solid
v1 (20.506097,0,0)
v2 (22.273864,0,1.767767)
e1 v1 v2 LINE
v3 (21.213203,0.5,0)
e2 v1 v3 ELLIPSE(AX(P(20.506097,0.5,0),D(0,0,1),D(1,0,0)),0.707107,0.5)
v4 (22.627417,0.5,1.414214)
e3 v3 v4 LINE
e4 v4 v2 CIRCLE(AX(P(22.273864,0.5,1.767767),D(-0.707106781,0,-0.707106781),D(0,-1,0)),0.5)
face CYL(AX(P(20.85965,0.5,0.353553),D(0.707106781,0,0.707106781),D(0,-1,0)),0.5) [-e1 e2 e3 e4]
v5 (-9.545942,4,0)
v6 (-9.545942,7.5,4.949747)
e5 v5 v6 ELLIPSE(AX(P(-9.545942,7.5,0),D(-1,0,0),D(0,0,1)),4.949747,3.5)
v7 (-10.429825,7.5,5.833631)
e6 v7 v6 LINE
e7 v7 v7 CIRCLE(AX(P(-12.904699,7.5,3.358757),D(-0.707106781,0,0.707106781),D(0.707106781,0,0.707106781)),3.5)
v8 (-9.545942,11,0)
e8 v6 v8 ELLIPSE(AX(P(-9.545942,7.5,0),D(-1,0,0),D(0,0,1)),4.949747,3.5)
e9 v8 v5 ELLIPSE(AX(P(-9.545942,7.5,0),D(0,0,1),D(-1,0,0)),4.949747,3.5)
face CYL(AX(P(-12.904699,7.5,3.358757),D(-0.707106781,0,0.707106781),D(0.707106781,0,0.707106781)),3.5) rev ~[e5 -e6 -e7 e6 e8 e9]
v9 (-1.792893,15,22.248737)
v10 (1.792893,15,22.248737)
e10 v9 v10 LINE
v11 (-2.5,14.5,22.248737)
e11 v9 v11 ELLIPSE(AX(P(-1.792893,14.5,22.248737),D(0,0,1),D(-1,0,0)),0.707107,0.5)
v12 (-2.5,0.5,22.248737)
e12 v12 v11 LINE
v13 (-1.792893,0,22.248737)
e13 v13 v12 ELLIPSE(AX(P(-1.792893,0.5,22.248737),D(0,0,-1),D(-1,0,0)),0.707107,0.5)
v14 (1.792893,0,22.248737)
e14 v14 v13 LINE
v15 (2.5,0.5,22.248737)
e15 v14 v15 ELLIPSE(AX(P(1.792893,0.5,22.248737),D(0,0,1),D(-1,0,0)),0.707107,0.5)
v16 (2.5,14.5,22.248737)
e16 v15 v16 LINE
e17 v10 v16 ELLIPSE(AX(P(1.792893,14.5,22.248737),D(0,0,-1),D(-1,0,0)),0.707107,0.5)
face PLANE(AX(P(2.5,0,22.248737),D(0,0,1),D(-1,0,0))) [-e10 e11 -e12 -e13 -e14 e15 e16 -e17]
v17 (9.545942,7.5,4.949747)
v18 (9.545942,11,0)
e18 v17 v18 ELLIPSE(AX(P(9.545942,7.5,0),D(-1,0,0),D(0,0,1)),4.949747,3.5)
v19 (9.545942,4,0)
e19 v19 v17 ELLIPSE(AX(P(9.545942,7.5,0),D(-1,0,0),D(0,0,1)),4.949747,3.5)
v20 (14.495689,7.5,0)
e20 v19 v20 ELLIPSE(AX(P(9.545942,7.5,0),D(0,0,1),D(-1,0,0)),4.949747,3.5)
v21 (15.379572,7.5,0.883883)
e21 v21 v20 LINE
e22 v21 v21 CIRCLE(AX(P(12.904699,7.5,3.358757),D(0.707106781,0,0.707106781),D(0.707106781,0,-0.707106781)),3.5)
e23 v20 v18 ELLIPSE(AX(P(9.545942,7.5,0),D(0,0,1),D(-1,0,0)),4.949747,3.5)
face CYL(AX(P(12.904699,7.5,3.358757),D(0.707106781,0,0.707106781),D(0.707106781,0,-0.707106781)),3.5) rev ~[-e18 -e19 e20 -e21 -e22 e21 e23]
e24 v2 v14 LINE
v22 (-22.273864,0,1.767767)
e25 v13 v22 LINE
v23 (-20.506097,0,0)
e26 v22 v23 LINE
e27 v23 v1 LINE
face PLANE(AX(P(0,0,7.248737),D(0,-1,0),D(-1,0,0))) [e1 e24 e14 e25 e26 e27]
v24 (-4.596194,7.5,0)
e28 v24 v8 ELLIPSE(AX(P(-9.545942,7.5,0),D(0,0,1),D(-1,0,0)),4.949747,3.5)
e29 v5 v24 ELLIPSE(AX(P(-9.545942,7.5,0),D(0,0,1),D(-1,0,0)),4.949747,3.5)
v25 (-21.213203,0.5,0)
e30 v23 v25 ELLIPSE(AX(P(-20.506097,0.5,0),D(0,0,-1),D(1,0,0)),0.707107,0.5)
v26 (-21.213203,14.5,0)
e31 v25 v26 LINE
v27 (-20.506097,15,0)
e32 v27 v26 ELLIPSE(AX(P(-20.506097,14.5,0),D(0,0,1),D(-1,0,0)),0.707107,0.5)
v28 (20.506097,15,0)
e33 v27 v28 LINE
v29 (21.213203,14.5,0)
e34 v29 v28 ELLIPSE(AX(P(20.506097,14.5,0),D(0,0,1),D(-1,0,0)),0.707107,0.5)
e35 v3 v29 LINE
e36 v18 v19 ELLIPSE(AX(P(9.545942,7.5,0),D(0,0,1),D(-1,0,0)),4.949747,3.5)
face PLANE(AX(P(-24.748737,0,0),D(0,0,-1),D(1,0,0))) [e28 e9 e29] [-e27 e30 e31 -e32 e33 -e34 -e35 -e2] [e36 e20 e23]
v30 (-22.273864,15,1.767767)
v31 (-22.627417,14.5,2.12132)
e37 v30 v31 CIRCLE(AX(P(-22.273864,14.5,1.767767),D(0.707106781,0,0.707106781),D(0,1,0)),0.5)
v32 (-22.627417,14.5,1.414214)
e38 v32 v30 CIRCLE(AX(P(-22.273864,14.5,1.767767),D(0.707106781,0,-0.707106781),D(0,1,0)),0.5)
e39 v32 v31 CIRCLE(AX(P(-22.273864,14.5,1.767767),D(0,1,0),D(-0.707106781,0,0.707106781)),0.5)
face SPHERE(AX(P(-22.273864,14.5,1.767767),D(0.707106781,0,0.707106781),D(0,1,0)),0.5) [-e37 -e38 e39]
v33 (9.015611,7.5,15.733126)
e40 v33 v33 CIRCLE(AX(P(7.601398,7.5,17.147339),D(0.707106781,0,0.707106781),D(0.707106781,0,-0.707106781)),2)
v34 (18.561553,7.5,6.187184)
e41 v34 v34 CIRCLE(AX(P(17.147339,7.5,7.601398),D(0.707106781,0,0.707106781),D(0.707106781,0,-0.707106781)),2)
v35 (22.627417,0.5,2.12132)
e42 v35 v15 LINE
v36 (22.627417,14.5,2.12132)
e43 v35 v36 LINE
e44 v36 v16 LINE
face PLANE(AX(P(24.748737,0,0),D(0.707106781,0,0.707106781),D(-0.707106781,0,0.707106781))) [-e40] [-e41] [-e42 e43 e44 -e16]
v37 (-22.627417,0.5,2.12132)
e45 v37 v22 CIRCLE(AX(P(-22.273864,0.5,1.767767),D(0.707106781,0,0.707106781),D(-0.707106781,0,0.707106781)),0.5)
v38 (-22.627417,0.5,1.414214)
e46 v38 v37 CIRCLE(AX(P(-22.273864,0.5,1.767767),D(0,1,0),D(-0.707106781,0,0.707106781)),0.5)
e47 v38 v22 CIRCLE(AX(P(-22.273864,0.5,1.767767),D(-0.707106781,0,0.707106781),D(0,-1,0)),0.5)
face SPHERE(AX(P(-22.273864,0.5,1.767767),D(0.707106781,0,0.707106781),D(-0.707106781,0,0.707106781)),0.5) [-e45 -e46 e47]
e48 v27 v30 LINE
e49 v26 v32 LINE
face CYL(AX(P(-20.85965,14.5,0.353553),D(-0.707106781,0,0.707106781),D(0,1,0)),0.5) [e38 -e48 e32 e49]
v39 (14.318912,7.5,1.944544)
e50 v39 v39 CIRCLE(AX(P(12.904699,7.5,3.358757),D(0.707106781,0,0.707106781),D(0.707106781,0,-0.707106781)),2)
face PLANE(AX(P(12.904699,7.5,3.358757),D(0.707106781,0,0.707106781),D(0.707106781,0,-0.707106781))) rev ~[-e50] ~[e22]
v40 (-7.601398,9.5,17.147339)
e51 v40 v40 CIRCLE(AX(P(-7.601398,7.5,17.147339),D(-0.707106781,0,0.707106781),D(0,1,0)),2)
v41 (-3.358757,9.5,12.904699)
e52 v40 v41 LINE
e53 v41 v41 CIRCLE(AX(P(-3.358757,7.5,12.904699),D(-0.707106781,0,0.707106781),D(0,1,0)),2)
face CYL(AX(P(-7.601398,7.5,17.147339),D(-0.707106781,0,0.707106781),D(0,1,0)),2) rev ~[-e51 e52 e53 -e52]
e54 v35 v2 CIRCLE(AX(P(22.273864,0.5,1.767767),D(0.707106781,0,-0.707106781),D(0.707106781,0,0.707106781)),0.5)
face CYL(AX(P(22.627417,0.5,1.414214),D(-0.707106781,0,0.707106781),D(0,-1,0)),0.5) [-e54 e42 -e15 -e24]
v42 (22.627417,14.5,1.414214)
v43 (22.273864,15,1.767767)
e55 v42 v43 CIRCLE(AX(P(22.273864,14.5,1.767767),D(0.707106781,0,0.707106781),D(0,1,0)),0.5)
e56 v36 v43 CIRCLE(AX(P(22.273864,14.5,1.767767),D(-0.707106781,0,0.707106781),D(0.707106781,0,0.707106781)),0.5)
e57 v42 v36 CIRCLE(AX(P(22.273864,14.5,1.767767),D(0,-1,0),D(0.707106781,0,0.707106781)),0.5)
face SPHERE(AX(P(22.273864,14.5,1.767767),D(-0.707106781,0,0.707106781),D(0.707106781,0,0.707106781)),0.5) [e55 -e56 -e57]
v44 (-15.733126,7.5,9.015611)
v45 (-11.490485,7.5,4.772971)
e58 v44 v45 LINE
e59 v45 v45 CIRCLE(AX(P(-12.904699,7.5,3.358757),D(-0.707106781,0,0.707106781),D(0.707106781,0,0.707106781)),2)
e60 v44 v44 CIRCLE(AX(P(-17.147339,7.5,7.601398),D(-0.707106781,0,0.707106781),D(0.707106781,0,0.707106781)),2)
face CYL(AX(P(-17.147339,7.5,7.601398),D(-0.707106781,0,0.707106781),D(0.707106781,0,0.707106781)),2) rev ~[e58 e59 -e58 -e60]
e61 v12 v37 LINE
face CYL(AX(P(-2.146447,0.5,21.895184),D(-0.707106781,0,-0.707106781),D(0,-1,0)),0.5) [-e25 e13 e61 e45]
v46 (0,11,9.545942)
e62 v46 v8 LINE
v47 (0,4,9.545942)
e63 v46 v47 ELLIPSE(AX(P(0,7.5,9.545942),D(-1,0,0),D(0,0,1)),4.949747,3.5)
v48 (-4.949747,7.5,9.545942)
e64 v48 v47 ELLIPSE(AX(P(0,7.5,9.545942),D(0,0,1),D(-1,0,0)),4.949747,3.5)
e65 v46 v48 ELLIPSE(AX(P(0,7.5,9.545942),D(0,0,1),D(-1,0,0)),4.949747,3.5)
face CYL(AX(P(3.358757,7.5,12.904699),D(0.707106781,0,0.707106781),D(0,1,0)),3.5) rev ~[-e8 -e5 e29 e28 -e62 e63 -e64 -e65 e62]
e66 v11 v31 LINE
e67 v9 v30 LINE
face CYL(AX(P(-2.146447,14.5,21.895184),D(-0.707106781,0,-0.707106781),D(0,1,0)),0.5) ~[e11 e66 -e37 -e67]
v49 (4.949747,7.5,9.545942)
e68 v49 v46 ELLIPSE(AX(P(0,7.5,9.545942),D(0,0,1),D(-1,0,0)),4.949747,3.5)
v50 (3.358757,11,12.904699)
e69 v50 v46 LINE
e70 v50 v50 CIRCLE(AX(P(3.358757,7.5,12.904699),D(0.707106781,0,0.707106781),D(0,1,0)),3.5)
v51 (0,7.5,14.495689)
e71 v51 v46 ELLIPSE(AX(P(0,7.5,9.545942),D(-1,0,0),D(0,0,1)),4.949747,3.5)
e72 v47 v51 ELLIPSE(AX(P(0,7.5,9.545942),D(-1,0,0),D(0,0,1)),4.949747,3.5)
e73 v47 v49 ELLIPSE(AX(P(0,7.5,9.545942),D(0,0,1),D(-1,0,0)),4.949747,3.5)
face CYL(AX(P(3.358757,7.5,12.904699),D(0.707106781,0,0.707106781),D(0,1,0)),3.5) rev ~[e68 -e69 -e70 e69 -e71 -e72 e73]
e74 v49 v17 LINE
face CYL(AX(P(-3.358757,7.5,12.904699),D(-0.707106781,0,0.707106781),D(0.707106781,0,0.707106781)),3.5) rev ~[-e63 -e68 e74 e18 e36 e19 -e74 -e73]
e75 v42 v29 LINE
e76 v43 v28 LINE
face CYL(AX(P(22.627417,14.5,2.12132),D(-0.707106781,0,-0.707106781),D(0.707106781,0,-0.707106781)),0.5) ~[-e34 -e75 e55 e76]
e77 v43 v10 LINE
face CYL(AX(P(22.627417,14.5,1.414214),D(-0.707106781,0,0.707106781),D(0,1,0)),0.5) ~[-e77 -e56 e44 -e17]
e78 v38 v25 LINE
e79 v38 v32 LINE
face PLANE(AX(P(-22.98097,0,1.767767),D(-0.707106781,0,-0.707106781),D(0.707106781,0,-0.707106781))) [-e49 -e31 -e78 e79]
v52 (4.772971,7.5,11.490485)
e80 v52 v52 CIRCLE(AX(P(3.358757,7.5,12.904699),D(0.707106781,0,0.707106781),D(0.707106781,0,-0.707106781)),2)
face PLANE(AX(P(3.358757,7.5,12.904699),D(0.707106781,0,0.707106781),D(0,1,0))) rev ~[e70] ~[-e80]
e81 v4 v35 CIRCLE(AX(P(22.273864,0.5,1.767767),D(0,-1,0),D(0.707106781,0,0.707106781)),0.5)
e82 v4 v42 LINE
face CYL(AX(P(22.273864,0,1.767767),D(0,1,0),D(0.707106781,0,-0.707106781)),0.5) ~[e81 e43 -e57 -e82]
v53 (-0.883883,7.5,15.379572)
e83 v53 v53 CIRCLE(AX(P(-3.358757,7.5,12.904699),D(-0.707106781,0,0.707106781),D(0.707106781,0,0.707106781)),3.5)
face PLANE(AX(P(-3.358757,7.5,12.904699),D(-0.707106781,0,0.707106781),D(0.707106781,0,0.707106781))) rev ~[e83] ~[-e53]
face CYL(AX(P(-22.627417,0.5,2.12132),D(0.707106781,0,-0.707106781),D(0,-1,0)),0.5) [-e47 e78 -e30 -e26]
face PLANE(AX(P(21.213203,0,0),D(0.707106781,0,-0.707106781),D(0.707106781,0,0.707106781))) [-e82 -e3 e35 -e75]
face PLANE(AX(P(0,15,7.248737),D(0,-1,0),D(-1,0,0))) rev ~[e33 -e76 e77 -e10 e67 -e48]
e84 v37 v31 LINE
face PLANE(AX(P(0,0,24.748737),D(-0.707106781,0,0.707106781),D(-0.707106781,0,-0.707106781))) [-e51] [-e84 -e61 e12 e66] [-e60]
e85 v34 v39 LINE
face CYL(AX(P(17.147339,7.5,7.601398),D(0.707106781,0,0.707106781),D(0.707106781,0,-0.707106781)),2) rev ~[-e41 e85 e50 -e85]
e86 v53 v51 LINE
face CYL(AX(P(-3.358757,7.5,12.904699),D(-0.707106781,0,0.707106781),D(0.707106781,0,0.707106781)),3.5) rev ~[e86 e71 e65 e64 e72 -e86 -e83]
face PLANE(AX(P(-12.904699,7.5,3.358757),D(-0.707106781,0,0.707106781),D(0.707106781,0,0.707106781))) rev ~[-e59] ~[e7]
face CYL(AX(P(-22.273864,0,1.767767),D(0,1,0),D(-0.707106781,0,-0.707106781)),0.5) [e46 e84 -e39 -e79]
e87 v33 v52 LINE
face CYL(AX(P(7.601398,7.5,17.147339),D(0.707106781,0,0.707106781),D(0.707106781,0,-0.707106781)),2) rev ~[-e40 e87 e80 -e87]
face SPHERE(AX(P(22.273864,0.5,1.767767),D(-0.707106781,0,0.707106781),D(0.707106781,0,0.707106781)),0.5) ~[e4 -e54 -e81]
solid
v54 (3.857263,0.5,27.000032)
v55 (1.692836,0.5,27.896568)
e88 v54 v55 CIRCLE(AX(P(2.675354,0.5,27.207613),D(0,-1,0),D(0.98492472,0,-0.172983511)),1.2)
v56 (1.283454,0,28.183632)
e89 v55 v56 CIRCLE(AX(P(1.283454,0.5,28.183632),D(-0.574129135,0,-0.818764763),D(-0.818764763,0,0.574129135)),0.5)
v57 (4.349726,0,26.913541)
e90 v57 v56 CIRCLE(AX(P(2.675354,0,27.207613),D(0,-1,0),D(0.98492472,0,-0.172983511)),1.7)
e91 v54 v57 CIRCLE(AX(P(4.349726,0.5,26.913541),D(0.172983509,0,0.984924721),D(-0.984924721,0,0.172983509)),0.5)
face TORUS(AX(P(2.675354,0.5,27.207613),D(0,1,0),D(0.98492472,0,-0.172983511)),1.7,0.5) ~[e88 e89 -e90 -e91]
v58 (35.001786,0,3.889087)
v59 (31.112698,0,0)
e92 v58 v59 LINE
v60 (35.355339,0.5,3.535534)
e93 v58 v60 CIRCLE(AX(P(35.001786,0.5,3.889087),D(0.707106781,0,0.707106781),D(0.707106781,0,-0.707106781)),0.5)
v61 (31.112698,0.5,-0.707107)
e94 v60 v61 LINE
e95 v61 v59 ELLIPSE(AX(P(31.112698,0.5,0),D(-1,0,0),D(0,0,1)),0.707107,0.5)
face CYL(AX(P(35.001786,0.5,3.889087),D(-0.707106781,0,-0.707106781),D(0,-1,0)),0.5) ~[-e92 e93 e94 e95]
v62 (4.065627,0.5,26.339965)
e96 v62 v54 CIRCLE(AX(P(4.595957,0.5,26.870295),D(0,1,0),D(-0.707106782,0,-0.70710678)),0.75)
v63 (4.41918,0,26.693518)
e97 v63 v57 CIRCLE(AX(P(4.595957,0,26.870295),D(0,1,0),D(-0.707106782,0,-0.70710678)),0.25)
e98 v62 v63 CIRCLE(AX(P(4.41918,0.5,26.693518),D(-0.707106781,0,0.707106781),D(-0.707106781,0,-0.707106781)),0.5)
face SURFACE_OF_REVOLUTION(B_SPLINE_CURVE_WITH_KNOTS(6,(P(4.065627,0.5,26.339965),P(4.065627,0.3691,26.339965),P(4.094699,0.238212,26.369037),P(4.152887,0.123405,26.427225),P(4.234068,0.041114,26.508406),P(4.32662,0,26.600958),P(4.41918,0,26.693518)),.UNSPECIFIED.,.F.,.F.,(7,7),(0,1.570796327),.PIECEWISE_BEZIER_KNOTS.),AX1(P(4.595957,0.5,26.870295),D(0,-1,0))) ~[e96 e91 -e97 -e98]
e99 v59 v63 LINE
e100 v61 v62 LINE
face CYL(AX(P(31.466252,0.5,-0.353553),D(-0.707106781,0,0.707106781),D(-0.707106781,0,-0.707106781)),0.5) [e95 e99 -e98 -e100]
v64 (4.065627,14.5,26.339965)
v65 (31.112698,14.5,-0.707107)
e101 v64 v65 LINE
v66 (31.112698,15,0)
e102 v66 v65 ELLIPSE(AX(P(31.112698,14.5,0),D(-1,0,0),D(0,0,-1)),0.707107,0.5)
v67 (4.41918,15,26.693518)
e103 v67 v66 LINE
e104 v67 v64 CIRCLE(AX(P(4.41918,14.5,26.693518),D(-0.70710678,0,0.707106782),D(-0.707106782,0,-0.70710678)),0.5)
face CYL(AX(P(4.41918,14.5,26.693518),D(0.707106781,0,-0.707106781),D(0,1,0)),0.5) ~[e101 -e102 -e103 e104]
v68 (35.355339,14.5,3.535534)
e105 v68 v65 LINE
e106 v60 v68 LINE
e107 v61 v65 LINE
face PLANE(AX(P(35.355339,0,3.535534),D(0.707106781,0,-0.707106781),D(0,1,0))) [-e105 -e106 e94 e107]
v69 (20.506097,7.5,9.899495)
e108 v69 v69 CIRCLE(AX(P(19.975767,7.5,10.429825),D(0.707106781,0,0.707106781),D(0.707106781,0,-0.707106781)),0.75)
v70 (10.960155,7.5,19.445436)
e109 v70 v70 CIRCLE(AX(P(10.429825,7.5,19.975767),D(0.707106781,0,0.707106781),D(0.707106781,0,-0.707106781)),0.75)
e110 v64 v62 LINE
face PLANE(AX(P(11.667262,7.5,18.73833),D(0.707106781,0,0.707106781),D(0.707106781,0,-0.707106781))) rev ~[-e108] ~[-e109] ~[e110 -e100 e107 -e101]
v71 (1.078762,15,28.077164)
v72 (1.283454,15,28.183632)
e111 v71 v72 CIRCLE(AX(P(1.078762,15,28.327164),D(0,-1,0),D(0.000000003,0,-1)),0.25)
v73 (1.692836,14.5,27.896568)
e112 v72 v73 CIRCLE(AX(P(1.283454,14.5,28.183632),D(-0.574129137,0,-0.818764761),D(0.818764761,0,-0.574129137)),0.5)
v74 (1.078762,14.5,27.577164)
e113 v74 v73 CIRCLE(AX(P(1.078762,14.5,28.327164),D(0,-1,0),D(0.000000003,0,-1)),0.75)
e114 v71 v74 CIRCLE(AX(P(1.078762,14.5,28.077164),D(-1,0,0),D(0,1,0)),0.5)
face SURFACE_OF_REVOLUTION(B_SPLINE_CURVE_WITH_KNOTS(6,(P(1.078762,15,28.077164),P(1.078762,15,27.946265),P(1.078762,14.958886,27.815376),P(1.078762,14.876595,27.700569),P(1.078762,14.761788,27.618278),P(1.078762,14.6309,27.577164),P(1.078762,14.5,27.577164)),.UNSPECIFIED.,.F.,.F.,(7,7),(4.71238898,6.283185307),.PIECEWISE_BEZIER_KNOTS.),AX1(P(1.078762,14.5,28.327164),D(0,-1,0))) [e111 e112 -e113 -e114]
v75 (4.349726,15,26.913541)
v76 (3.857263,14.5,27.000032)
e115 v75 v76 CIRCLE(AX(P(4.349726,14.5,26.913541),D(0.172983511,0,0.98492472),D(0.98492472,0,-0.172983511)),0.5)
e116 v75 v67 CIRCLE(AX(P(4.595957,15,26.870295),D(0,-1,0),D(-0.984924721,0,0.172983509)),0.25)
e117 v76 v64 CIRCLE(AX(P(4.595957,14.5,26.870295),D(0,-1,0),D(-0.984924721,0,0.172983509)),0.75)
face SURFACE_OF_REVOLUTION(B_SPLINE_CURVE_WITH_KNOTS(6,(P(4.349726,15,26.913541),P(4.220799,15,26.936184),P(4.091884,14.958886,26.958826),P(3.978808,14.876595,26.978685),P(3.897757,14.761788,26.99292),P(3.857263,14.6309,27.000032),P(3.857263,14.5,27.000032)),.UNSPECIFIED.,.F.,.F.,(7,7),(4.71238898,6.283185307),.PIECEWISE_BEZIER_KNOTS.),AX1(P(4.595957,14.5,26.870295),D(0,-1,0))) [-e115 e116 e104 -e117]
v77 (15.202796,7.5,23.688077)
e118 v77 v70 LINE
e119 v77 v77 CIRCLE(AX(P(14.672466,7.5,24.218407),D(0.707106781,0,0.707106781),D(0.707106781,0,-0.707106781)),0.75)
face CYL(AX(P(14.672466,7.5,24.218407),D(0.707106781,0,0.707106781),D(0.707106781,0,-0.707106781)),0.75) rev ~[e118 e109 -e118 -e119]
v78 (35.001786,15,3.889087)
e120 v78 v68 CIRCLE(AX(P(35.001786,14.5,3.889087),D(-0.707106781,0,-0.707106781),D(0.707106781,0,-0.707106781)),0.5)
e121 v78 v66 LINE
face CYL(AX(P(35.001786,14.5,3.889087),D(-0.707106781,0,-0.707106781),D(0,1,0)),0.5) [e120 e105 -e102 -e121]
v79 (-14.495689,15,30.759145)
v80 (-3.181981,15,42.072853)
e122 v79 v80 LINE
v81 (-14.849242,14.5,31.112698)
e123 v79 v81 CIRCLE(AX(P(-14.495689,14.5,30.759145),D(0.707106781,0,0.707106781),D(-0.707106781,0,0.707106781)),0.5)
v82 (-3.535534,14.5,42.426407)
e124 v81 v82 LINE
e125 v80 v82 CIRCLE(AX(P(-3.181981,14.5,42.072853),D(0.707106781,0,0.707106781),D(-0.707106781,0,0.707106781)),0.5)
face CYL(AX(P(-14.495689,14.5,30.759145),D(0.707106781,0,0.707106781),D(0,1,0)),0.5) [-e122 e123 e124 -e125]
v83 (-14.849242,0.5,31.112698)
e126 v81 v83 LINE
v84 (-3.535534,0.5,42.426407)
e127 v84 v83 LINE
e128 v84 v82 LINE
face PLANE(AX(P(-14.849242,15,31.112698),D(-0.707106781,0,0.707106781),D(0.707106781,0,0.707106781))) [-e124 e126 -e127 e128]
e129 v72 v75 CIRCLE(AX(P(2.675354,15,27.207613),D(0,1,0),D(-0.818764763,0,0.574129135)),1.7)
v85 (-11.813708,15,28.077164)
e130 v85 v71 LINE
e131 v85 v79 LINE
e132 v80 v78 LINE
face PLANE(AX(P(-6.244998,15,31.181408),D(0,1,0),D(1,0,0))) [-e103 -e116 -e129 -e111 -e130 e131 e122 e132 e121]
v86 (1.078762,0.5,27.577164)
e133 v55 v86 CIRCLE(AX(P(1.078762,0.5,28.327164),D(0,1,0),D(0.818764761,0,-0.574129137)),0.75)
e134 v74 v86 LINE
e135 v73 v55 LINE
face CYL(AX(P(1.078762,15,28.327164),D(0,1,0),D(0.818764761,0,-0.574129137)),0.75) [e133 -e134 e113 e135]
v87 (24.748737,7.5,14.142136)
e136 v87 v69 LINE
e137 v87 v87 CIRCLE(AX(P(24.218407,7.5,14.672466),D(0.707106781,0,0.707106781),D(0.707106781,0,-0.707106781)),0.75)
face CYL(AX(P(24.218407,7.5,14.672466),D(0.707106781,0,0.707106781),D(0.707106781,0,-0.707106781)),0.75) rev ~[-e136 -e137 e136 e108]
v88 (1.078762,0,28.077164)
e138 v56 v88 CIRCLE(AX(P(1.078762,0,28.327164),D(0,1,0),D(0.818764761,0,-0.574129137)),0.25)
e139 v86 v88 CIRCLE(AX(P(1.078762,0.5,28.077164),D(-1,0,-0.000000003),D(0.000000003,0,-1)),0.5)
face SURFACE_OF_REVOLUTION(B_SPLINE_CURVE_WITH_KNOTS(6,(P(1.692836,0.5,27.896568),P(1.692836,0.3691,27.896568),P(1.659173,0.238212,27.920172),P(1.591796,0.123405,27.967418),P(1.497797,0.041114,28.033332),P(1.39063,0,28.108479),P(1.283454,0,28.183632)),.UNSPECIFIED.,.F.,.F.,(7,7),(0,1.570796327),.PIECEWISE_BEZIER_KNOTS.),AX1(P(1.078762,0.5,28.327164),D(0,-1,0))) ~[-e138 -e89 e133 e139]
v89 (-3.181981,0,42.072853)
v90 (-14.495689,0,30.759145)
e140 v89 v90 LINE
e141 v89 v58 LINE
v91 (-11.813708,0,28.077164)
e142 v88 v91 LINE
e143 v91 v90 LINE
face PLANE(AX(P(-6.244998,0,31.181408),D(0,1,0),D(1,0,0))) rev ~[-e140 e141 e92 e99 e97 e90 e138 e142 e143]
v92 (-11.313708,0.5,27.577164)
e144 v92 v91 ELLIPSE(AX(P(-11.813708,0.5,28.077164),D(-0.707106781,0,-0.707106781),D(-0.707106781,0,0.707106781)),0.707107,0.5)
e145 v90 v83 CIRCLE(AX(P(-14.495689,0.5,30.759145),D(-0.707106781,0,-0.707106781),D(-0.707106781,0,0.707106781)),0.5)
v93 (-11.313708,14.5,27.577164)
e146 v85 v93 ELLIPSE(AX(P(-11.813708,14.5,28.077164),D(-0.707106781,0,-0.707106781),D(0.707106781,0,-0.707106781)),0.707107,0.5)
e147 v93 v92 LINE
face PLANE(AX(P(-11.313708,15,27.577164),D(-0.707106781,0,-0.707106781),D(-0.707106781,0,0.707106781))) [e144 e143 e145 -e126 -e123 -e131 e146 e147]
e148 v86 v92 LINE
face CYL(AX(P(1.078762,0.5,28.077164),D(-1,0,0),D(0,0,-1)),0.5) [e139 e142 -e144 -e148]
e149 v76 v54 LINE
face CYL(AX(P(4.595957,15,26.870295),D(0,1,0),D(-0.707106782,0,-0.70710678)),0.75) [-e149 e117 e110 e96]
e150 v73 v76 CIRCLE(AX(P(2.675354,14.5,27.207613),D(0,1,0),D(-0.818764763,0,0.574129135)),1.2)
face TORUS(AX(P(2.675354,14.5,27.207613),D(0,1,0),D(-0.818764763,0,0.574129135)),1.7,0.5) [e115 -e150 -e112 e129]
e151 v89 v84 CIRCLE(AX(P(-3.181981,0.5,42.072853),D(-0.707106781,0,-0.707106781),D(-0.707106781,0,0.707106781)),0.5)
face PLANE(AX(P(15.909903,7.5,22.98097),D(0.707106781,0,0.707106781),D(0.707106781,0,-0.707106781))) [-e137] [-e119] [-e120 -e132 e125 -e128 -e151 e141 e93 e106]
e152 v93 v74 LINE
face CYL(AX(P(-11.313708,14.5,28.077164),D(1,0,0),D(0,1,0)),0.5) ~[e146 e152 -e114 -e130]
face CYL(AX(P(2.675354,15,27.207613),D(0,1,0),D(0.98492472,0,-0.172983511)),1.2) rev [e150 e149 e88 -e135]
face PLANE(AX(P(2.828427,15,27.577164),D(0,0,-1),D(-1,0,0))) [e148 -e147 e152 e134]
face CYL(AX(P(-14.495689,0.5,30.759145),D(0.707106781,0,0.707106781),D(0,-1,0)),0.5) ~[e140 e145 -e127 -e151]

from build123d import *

# Parameters (mm, degrees)
BOSS_EXTRUDE1_DEPTH = 15
CUT_EXTRUDE5_REACH  = 43.908
SKETCH9_R           = 2
CUT_EXTRUDE6_REACH  = 43.908
SKETCH10_R          = 2
CUT_EXTRUDE7_REACH  = 40.079
FILLET1_R           = 0.5
CUT_EXTRUDE8_REACH  = 39.141
SKETCH11_R          = 3.5
CUT_EXTRUDE9_REACH  = 39.141
SKETCH12_R          = 3.5
SKETCH14_W          = 55
SKETCH14_H          = 15
SKETCH14_R          = 0.75
BOSS_EXTRUDE2_DEPTH = 6
BOSS_EXTRUDE3_DEPTH = 15
CUT_EXTRUDE10_DEPTH = 15
FILLET2_R           = 0.5


with BuildPart() as part:
    # Sketch1 → Boss-Extrude1 (new body)
    with BuildSketch(Plane(origin=(0, 0, 0), x_dir=(1, 0, 0), z_dir=(0, 1, 0))):
        Polygon((-24.748737342, 0), (24.748737342, 0), (0, -24.748737342), align=None)
    extrude(amount=BOSS_EXTRUDE1_DEPTH)

    # Cut-Extrude5: up to this plane
    cut_extrude5_end = Plane(origin=(-24.748737342, 15, 0), z_dir=(0, 0, 1))
    # Sketch9 → Cut-Extrude5 (cut, up to the surface)
    with BuildSketch(Plane(origin=(12.374368671, 0, 12.374368671), x_dir=(0.7071067811865474, 0, -0.7071067811865477), z_dir=(0.7071067811865477, 0, 0.7071067811865474)), mode=Mode.PRIVATE) as cut_extrude5_sk1:
        with Locations((-6.75, 7.5)):
            Circle(SKETCH9_R)
    cut_extrude5_tool1 = split(extrude(cut_extrude5_sk1.sketch, amount=-CUT_EXTRUDE5_REACH, mode=Mode.PRIVATE), bisect_by=cut_extrude5_end, keep=Keep.BOTH, mode=Mode.PRIVATE)
    add(cut_extrude5_tool1.solids().sort_by_distance((7.601398, 7.5, 17.147339))[0], mode=Mode.SUBTRACT)
    # Sketch9 → Cut-Extrude5 (cut, up to the surface)
    with BuildSketch(Plane(origin=(12.374368671, 0, 12.374368671), x_dir=(0.7071067811865474, 0, -0.7071067811865477), z_dir=(0.7071067811865477, 0, 0.7071067811865474)), mode=Mode.PRIVATE) as cut_extrude5_sk2:
        with Locations((6.75, 7.5)):
            Circle(SKETCH9_R)
    cut_extrude5_tool2 = split(extrude(cut_extrude5_sk2.sketch, amount=-CUT_EXTRUDE5_REACH, mode=Mode.PRIVATE), bisect_by=cut_extrude5_end, keep=Keep.BOTH, mode=Mode.PRIVATE)
    add(cut_extrude5_tool2.solids().sort_by_distance((17.147339, 7.5, 7.601398))[0], mode=Mode.SUBTRACT)

    # Cut-Extrude6: up to this plane
    cut_extrude6_end = Plane(origin=(-24.748737342, 15, 0), z_dir=(0, 0, 1))
    # Sketch10 → Cut-Extrude6 (cut, up to the surface)
    with BuildSketch(Plane(origin=(-12.374368671, 0, 12.374368671), x_dir=(0.7071067811865472, 0, 0.7071067811865479), z_dir=(-0.7071067811865479, 0, 0.7071067811865472)), mode=Mode.PRIVATE) as cut_extrude6_sk1:
        with Locations((-6.75, 7.5)):
            Circle(SKETCH10_R)
    cut_extrude6_tool1 = split(extrude(cut_extrude6_sk1.sketch, amount=-CUT_EXTRUDE6_REACH, mode=Mode.PRIVATE), bisect_by=cut_extrude6_end, keep=Keep.BOTH, mode=Mode.PRIVATE)
    add(cut_extrude6_tool1.solids().sort_by_distance((-17.147339, 7.5, 7.601398))[0], mode=Mode.SUBTRACT)
    # Sketch10 → Cut-Extrude6 (cut, up to the surface)
    with BuildSketch(Plane(origin=(-12.374368671, 0, 12.374368671), x_dir=(0.7071067811865472, 0, 0.7071067811865479), z_dir=(-0.7071067811865479, 0, 0.7071067811865472)), mode=Mode.PRIVATE) as cut_extrude6_sk2:
        with Locations(Location((6.75, 7.5, 0), (0, 0, 90))):
            Circle(SKETCH10_R)
    cut_extrude6_tool2 = split(extrude(cut_extrude6_sk2.sketch, amount=-CUT_EXTRUDE6_REACH, mode=Mode.PRIVATE), bisect_by=cut_extrude6_end, keep=Keep.BOTH, mode=Mode.PRIVATE)
    add(cut_extrude6_tool2.solids().sort_by_distance((-7.601398, 7.5, 17.147339))[0], mode=Mode.SUBTRACT)

    # Sketch3 → Cut-Extrude7 (cut, up to next)
    with BuildSketch(Plane.XZ, mode=Mode.PRIVATE) as cut_extrude7_sk1:
        Polygon((-2.5, 22.248737342), (0, 24.748737342), (2.5, 22.248737342), align=None)
    cut_extrude7_tool1 = extrude(cut_extrude7_sk1.sketch, amount=-CUT_EXTRUDE7_REACH, mode=Mode.PRIVATE) & part.part
    # Sketch3 → Cut-Extrude7 (cut, up to next)
    with BuildSketch(Plane.XZ, mode=Mode.PRIVATE) as cut_extrude7_sk2:
        Polygon((-24.748737342, 0), (-22.980970389, 1.767766953), (-21.213203436, 0), align=None)
    cut_extrude7_tool2 = extrude(cut_extrude7_sk2.sketch, amount=-CUT_EXTRUDE7_REACH, mode=Mode.PRIVATE) & part.part
    # Sketch3 → Cut-Extrude7 (cut, up to next)
    with BuildSketch(Plane.XZ, mode=Mode.PRIVATE) as cut_extrude7_sk3:
        Polygon((24.748737342, 0), (21.213203436, 0), (22.980970389, 1.767766953), align=None)
    cut_extrude7_tool3 = extrude(cut_extrude7_sk3.sketch, amount=-CUT_EXTRUDE7_REACH, mode=Mode.PRIVATE) & part.part
    add(cut_extrude7_tool1.solids().sort_by_distance((0, 0, 23.082071))[0], mode=Mode.SUBTRACT)
    add(cut_extrude7_tool2.solids().sort_by_distance((-22.98097, 0, 0.589256))[0], mode=Mode.SUBTRACT)
    add(cut_extrude7_tool3.solids().sort_by_distance((22.98097, 0, 0.589256))[0], mode=Mode.SUBTRACT)

    # Fillet1
    fillet1_edges = [part.edges().sort_by_distance(p)[0] for p in [
        (-12.740485194, 0, 12.008252147),
        (12.740485194, 0, 12.008252147),
        (-12.740485194, 15, 12.008252147),
        (12.740485194, 15, 12.008252147),
        (22.980970389, 7.5, 1.767766953),
        (22.097086912, 15, 0.883883476),
        (22.097086912, 0, 0.883883476),
        (-22.097086912, 15, 0.883883476),
        (-22.980970389, 7.5, 1.767766953),
        (-22.097086912, 0, 0.883883476),
    ]]
    fillet(fillet1_edges, radius=FILLET1_R)

    # Cut-Extrude8: up to this plane
    cut_extrude8_end = Plane(origin=(-24.748737342, 15, 0), z_dir=(0, 0, 1))
    # Sketch11 → Cut-Extrude8 (cut, up to the surface)
    with BuildSketch(Plane(origin=(-8.131727984, 0, 8.131727984), x_dir=(0.7071067811865475, 0, 0.7071067811865477), z_dir=(-0.7071067811865477, 0, 0.7071067811865475)), mode=Mode.PRIVATE) as cut_extrude8_sk1:
        with Locations((-6.75, 7.5)):
            Circle(SKETCH11_R)
    cut_extrude8_tool1 = split(extrude(cut_extrude8_sk1.sketch, amount=-CUT_EXTRUDE8_REACH, mode=Mode.PRIVATE), bisect_by=cut_extrude8_end, keep=Keep.BOTH, mode=Mode.PRIVATE)
    add(cut_extrude8_tool1.solids().sort_by_distance((-12.904699, 7.5, 3.358757))[0], mode=Mode.SUBTRACT)
    # Sketch11 → Cut-Extrude8 (cut, up to the surface)
    with BuildSketch(Plane(origin=(-8.131727984, 0, 8.131727984), x_dir=(0.7071067811865475, 0, 0.7071067811865477), z_dir=(-0.7071067811865477, 0, 0.7071067811865475)), mode=Mode.PRIVATE) as cut_extrude8_sk2:
        with Locations((6.75, 7.5)):
            Circle(SKETCH11_R)
    cut_extrude8_tool2 = split(extrude(cut_extrude8_sk2.sketch, amount=-CUT_EXTRUDE8_REACH, mode=Mode.PRIVATE), bisect_by=cut_extrude8_end, keep=Keep.BOTH, mode=Mode.PRIVATE)
    add(cut_extrude8_tool2.solids().sort_by_distance((-3.358757, 7.5, 12.904699))[0], mode=Mode.SUBTRACT)

    # Cut-Extrude9: up to this plane
    cut_extrude9_end = Plane(origin=(-24.748737342, 15, 0), z_dir=(0, 0, 1))
    # Sketch12 → Cut-Extrude9 (cut, up to the surface)
    with BuildSketch(Plane(origin=(8.131727984, 0, 8.131727984), x_dir=(0.7071067811865474, 0, -0.7071067811865477), z_dir=(0.7071067811865477, 0, 0.7071067811865474)), mode=Mode.PRIVATE) as cut_extrude9_sk1:
        with Locations((6.75, 7.5)):
            Circle(SKETCH12_R)
    cut_extrude9_tool1 = split(extrude(cut_extrude9_sk1.sketch, amount=-CUT_EXTRUDE9_REACH, mode=Mode.PRIVATE), bisect_by=cut_extrude9_end, keep=Keep.BOTH, mode=Mode.PRIVATE)
    add(cut_extrude9_tool1.solids().sort_by_distance((12.904699, 7.5, 3.358757))[0], mode=Mode.SUBTRACT)
    # Sketch12 → Cut-Extrude9 (cut, up to the surface)
    with BuildSketch(Plane(origin=(8.131727984, 0, 8.131727984), x_dir=(0.7071067811865474, 0, -0.7071067811865477), z_dir=(0.7071067811865477, 0, 0.7071067811865474)), mode=Mode.PRIVATE) as cut_extrude9_sk2:
        with Locations(Location((-6.75, 7.5, 0), (0, 0, 90))):
            Circle(SKETCH12_R)
    cut_extrude9_tool2 = split(extrude(cut_extrude9_sk2.sketch, amount=-CUT_EXTRUDE9_REACH, mode=Mode.PRIVATE), bisect_by=cut_extrude9_end, keep=Keep.BOTH, mode=Mode.PRIVATE)
    add(cut_extrude9_tool2.solids().sort_by_distance((3.358757, 7.5, 12.904699))[0], mode=Mode.SUBTRACT)


with BuildPart() as body_2:
    # Sketch14 → Boss-Extrude2 (new body)
    with BuildSketch(Plane(origin=(19.445436483, 0, 19.445436483), x_dir=(0.7071067811865474, 0, -0.7071067811865477), z_dir=(0.7071067811865477, 0, 0.7071067811865474))):
        with Locations((-5, 7.5)):
            Rectangle(SKETCH14_W, SKETCH14_H)
        with Locations((-6.75, 7.5)):
            Circle(SKETCH14_R, mode=Mode.SUBTRACT)
        with Locations((6.75, 7.5)):
            Circle(SKETCH14_R, mode=Mode.SUBTRACT)
    extrude(amount=-BOSS_EXTRUDE2_DEPTH)

    # Sketch15 → Boss-Extrude3 (add)
    with BuildSketch(Plane(origin=(0, 15, 0), x_dir=(1, 0, 0), z_dir=(0, 1, 0))):
        Polygon((-7.778174593, -38.183766184), (2.828427125, -27.577164466), (-11.313708499, -27.577164466), (-14.849242405, -31.112698372), align=None)
    extrude(amount=-BOSS_EXTRUDE3_DEPTH)

    # Sketch16 → Cut-Extrude10 (cut)
    with BuildSketch(Plane(origin=(0, 15, 0), x_dir=(1, 0, 0), z_dir=(0, 1, 0))):
        with BuildLine():
            Line((1.078762465, -27.577164466), (2.828427125, -27.577164466))
            Line((2.828427125, -27.577164466), (4.065626871, -26.33996472))
            ThreePointArc((4.065626871, -26.33996472), (3.880745387, -26.644524103), (3.857263416, -27.00003244))
            ThreePointArc((3.857263416, -27.00003244), (3.134573871, -28.316268092), (1.692836037, -27.896567615))
            ThreePointArc((1.692836037, -27.896567615), (1.42484942, -27.66178952), (1.078762465, -27.577164466))
        make_face()
    extrude(amount=-CUT_EXTRUDE10_DEPTH, mode=Mode.SUBTRACT)

    # Fillet2
    fillet2_edges = [body_2.edges().sort_by_distance(p)[0] for p in [
        (17.589162621, 15, 12.81642897),
        (-5.117473017, 0, 27.577164466),
        (-5.117473017, 15, 27.577164466),
        (17.589162621, 0, 12.81642897),
        (3.880745387, 15, 26.644524103),
        (1.42484942, 15, 27.66178952),
        (3.134573871, 15, 28.316268092),
        (1.42484942, 0, 27.66178952),
        (3.134573871, 0, 28.316268092),
        (3.880745387, 0, 26.644524103),
        (-9.192388155, 15, 36.769552622),
        (33.234018716, 15, 1.414213562),
        (33.234018716, 0, 1.414213562),
        (-9.192388155, 0, 36.769552622),
    ]]
    fillet(fillet2_edges, radius=FILLET2_R)


solid = Compound([part.part, body_2.part])
